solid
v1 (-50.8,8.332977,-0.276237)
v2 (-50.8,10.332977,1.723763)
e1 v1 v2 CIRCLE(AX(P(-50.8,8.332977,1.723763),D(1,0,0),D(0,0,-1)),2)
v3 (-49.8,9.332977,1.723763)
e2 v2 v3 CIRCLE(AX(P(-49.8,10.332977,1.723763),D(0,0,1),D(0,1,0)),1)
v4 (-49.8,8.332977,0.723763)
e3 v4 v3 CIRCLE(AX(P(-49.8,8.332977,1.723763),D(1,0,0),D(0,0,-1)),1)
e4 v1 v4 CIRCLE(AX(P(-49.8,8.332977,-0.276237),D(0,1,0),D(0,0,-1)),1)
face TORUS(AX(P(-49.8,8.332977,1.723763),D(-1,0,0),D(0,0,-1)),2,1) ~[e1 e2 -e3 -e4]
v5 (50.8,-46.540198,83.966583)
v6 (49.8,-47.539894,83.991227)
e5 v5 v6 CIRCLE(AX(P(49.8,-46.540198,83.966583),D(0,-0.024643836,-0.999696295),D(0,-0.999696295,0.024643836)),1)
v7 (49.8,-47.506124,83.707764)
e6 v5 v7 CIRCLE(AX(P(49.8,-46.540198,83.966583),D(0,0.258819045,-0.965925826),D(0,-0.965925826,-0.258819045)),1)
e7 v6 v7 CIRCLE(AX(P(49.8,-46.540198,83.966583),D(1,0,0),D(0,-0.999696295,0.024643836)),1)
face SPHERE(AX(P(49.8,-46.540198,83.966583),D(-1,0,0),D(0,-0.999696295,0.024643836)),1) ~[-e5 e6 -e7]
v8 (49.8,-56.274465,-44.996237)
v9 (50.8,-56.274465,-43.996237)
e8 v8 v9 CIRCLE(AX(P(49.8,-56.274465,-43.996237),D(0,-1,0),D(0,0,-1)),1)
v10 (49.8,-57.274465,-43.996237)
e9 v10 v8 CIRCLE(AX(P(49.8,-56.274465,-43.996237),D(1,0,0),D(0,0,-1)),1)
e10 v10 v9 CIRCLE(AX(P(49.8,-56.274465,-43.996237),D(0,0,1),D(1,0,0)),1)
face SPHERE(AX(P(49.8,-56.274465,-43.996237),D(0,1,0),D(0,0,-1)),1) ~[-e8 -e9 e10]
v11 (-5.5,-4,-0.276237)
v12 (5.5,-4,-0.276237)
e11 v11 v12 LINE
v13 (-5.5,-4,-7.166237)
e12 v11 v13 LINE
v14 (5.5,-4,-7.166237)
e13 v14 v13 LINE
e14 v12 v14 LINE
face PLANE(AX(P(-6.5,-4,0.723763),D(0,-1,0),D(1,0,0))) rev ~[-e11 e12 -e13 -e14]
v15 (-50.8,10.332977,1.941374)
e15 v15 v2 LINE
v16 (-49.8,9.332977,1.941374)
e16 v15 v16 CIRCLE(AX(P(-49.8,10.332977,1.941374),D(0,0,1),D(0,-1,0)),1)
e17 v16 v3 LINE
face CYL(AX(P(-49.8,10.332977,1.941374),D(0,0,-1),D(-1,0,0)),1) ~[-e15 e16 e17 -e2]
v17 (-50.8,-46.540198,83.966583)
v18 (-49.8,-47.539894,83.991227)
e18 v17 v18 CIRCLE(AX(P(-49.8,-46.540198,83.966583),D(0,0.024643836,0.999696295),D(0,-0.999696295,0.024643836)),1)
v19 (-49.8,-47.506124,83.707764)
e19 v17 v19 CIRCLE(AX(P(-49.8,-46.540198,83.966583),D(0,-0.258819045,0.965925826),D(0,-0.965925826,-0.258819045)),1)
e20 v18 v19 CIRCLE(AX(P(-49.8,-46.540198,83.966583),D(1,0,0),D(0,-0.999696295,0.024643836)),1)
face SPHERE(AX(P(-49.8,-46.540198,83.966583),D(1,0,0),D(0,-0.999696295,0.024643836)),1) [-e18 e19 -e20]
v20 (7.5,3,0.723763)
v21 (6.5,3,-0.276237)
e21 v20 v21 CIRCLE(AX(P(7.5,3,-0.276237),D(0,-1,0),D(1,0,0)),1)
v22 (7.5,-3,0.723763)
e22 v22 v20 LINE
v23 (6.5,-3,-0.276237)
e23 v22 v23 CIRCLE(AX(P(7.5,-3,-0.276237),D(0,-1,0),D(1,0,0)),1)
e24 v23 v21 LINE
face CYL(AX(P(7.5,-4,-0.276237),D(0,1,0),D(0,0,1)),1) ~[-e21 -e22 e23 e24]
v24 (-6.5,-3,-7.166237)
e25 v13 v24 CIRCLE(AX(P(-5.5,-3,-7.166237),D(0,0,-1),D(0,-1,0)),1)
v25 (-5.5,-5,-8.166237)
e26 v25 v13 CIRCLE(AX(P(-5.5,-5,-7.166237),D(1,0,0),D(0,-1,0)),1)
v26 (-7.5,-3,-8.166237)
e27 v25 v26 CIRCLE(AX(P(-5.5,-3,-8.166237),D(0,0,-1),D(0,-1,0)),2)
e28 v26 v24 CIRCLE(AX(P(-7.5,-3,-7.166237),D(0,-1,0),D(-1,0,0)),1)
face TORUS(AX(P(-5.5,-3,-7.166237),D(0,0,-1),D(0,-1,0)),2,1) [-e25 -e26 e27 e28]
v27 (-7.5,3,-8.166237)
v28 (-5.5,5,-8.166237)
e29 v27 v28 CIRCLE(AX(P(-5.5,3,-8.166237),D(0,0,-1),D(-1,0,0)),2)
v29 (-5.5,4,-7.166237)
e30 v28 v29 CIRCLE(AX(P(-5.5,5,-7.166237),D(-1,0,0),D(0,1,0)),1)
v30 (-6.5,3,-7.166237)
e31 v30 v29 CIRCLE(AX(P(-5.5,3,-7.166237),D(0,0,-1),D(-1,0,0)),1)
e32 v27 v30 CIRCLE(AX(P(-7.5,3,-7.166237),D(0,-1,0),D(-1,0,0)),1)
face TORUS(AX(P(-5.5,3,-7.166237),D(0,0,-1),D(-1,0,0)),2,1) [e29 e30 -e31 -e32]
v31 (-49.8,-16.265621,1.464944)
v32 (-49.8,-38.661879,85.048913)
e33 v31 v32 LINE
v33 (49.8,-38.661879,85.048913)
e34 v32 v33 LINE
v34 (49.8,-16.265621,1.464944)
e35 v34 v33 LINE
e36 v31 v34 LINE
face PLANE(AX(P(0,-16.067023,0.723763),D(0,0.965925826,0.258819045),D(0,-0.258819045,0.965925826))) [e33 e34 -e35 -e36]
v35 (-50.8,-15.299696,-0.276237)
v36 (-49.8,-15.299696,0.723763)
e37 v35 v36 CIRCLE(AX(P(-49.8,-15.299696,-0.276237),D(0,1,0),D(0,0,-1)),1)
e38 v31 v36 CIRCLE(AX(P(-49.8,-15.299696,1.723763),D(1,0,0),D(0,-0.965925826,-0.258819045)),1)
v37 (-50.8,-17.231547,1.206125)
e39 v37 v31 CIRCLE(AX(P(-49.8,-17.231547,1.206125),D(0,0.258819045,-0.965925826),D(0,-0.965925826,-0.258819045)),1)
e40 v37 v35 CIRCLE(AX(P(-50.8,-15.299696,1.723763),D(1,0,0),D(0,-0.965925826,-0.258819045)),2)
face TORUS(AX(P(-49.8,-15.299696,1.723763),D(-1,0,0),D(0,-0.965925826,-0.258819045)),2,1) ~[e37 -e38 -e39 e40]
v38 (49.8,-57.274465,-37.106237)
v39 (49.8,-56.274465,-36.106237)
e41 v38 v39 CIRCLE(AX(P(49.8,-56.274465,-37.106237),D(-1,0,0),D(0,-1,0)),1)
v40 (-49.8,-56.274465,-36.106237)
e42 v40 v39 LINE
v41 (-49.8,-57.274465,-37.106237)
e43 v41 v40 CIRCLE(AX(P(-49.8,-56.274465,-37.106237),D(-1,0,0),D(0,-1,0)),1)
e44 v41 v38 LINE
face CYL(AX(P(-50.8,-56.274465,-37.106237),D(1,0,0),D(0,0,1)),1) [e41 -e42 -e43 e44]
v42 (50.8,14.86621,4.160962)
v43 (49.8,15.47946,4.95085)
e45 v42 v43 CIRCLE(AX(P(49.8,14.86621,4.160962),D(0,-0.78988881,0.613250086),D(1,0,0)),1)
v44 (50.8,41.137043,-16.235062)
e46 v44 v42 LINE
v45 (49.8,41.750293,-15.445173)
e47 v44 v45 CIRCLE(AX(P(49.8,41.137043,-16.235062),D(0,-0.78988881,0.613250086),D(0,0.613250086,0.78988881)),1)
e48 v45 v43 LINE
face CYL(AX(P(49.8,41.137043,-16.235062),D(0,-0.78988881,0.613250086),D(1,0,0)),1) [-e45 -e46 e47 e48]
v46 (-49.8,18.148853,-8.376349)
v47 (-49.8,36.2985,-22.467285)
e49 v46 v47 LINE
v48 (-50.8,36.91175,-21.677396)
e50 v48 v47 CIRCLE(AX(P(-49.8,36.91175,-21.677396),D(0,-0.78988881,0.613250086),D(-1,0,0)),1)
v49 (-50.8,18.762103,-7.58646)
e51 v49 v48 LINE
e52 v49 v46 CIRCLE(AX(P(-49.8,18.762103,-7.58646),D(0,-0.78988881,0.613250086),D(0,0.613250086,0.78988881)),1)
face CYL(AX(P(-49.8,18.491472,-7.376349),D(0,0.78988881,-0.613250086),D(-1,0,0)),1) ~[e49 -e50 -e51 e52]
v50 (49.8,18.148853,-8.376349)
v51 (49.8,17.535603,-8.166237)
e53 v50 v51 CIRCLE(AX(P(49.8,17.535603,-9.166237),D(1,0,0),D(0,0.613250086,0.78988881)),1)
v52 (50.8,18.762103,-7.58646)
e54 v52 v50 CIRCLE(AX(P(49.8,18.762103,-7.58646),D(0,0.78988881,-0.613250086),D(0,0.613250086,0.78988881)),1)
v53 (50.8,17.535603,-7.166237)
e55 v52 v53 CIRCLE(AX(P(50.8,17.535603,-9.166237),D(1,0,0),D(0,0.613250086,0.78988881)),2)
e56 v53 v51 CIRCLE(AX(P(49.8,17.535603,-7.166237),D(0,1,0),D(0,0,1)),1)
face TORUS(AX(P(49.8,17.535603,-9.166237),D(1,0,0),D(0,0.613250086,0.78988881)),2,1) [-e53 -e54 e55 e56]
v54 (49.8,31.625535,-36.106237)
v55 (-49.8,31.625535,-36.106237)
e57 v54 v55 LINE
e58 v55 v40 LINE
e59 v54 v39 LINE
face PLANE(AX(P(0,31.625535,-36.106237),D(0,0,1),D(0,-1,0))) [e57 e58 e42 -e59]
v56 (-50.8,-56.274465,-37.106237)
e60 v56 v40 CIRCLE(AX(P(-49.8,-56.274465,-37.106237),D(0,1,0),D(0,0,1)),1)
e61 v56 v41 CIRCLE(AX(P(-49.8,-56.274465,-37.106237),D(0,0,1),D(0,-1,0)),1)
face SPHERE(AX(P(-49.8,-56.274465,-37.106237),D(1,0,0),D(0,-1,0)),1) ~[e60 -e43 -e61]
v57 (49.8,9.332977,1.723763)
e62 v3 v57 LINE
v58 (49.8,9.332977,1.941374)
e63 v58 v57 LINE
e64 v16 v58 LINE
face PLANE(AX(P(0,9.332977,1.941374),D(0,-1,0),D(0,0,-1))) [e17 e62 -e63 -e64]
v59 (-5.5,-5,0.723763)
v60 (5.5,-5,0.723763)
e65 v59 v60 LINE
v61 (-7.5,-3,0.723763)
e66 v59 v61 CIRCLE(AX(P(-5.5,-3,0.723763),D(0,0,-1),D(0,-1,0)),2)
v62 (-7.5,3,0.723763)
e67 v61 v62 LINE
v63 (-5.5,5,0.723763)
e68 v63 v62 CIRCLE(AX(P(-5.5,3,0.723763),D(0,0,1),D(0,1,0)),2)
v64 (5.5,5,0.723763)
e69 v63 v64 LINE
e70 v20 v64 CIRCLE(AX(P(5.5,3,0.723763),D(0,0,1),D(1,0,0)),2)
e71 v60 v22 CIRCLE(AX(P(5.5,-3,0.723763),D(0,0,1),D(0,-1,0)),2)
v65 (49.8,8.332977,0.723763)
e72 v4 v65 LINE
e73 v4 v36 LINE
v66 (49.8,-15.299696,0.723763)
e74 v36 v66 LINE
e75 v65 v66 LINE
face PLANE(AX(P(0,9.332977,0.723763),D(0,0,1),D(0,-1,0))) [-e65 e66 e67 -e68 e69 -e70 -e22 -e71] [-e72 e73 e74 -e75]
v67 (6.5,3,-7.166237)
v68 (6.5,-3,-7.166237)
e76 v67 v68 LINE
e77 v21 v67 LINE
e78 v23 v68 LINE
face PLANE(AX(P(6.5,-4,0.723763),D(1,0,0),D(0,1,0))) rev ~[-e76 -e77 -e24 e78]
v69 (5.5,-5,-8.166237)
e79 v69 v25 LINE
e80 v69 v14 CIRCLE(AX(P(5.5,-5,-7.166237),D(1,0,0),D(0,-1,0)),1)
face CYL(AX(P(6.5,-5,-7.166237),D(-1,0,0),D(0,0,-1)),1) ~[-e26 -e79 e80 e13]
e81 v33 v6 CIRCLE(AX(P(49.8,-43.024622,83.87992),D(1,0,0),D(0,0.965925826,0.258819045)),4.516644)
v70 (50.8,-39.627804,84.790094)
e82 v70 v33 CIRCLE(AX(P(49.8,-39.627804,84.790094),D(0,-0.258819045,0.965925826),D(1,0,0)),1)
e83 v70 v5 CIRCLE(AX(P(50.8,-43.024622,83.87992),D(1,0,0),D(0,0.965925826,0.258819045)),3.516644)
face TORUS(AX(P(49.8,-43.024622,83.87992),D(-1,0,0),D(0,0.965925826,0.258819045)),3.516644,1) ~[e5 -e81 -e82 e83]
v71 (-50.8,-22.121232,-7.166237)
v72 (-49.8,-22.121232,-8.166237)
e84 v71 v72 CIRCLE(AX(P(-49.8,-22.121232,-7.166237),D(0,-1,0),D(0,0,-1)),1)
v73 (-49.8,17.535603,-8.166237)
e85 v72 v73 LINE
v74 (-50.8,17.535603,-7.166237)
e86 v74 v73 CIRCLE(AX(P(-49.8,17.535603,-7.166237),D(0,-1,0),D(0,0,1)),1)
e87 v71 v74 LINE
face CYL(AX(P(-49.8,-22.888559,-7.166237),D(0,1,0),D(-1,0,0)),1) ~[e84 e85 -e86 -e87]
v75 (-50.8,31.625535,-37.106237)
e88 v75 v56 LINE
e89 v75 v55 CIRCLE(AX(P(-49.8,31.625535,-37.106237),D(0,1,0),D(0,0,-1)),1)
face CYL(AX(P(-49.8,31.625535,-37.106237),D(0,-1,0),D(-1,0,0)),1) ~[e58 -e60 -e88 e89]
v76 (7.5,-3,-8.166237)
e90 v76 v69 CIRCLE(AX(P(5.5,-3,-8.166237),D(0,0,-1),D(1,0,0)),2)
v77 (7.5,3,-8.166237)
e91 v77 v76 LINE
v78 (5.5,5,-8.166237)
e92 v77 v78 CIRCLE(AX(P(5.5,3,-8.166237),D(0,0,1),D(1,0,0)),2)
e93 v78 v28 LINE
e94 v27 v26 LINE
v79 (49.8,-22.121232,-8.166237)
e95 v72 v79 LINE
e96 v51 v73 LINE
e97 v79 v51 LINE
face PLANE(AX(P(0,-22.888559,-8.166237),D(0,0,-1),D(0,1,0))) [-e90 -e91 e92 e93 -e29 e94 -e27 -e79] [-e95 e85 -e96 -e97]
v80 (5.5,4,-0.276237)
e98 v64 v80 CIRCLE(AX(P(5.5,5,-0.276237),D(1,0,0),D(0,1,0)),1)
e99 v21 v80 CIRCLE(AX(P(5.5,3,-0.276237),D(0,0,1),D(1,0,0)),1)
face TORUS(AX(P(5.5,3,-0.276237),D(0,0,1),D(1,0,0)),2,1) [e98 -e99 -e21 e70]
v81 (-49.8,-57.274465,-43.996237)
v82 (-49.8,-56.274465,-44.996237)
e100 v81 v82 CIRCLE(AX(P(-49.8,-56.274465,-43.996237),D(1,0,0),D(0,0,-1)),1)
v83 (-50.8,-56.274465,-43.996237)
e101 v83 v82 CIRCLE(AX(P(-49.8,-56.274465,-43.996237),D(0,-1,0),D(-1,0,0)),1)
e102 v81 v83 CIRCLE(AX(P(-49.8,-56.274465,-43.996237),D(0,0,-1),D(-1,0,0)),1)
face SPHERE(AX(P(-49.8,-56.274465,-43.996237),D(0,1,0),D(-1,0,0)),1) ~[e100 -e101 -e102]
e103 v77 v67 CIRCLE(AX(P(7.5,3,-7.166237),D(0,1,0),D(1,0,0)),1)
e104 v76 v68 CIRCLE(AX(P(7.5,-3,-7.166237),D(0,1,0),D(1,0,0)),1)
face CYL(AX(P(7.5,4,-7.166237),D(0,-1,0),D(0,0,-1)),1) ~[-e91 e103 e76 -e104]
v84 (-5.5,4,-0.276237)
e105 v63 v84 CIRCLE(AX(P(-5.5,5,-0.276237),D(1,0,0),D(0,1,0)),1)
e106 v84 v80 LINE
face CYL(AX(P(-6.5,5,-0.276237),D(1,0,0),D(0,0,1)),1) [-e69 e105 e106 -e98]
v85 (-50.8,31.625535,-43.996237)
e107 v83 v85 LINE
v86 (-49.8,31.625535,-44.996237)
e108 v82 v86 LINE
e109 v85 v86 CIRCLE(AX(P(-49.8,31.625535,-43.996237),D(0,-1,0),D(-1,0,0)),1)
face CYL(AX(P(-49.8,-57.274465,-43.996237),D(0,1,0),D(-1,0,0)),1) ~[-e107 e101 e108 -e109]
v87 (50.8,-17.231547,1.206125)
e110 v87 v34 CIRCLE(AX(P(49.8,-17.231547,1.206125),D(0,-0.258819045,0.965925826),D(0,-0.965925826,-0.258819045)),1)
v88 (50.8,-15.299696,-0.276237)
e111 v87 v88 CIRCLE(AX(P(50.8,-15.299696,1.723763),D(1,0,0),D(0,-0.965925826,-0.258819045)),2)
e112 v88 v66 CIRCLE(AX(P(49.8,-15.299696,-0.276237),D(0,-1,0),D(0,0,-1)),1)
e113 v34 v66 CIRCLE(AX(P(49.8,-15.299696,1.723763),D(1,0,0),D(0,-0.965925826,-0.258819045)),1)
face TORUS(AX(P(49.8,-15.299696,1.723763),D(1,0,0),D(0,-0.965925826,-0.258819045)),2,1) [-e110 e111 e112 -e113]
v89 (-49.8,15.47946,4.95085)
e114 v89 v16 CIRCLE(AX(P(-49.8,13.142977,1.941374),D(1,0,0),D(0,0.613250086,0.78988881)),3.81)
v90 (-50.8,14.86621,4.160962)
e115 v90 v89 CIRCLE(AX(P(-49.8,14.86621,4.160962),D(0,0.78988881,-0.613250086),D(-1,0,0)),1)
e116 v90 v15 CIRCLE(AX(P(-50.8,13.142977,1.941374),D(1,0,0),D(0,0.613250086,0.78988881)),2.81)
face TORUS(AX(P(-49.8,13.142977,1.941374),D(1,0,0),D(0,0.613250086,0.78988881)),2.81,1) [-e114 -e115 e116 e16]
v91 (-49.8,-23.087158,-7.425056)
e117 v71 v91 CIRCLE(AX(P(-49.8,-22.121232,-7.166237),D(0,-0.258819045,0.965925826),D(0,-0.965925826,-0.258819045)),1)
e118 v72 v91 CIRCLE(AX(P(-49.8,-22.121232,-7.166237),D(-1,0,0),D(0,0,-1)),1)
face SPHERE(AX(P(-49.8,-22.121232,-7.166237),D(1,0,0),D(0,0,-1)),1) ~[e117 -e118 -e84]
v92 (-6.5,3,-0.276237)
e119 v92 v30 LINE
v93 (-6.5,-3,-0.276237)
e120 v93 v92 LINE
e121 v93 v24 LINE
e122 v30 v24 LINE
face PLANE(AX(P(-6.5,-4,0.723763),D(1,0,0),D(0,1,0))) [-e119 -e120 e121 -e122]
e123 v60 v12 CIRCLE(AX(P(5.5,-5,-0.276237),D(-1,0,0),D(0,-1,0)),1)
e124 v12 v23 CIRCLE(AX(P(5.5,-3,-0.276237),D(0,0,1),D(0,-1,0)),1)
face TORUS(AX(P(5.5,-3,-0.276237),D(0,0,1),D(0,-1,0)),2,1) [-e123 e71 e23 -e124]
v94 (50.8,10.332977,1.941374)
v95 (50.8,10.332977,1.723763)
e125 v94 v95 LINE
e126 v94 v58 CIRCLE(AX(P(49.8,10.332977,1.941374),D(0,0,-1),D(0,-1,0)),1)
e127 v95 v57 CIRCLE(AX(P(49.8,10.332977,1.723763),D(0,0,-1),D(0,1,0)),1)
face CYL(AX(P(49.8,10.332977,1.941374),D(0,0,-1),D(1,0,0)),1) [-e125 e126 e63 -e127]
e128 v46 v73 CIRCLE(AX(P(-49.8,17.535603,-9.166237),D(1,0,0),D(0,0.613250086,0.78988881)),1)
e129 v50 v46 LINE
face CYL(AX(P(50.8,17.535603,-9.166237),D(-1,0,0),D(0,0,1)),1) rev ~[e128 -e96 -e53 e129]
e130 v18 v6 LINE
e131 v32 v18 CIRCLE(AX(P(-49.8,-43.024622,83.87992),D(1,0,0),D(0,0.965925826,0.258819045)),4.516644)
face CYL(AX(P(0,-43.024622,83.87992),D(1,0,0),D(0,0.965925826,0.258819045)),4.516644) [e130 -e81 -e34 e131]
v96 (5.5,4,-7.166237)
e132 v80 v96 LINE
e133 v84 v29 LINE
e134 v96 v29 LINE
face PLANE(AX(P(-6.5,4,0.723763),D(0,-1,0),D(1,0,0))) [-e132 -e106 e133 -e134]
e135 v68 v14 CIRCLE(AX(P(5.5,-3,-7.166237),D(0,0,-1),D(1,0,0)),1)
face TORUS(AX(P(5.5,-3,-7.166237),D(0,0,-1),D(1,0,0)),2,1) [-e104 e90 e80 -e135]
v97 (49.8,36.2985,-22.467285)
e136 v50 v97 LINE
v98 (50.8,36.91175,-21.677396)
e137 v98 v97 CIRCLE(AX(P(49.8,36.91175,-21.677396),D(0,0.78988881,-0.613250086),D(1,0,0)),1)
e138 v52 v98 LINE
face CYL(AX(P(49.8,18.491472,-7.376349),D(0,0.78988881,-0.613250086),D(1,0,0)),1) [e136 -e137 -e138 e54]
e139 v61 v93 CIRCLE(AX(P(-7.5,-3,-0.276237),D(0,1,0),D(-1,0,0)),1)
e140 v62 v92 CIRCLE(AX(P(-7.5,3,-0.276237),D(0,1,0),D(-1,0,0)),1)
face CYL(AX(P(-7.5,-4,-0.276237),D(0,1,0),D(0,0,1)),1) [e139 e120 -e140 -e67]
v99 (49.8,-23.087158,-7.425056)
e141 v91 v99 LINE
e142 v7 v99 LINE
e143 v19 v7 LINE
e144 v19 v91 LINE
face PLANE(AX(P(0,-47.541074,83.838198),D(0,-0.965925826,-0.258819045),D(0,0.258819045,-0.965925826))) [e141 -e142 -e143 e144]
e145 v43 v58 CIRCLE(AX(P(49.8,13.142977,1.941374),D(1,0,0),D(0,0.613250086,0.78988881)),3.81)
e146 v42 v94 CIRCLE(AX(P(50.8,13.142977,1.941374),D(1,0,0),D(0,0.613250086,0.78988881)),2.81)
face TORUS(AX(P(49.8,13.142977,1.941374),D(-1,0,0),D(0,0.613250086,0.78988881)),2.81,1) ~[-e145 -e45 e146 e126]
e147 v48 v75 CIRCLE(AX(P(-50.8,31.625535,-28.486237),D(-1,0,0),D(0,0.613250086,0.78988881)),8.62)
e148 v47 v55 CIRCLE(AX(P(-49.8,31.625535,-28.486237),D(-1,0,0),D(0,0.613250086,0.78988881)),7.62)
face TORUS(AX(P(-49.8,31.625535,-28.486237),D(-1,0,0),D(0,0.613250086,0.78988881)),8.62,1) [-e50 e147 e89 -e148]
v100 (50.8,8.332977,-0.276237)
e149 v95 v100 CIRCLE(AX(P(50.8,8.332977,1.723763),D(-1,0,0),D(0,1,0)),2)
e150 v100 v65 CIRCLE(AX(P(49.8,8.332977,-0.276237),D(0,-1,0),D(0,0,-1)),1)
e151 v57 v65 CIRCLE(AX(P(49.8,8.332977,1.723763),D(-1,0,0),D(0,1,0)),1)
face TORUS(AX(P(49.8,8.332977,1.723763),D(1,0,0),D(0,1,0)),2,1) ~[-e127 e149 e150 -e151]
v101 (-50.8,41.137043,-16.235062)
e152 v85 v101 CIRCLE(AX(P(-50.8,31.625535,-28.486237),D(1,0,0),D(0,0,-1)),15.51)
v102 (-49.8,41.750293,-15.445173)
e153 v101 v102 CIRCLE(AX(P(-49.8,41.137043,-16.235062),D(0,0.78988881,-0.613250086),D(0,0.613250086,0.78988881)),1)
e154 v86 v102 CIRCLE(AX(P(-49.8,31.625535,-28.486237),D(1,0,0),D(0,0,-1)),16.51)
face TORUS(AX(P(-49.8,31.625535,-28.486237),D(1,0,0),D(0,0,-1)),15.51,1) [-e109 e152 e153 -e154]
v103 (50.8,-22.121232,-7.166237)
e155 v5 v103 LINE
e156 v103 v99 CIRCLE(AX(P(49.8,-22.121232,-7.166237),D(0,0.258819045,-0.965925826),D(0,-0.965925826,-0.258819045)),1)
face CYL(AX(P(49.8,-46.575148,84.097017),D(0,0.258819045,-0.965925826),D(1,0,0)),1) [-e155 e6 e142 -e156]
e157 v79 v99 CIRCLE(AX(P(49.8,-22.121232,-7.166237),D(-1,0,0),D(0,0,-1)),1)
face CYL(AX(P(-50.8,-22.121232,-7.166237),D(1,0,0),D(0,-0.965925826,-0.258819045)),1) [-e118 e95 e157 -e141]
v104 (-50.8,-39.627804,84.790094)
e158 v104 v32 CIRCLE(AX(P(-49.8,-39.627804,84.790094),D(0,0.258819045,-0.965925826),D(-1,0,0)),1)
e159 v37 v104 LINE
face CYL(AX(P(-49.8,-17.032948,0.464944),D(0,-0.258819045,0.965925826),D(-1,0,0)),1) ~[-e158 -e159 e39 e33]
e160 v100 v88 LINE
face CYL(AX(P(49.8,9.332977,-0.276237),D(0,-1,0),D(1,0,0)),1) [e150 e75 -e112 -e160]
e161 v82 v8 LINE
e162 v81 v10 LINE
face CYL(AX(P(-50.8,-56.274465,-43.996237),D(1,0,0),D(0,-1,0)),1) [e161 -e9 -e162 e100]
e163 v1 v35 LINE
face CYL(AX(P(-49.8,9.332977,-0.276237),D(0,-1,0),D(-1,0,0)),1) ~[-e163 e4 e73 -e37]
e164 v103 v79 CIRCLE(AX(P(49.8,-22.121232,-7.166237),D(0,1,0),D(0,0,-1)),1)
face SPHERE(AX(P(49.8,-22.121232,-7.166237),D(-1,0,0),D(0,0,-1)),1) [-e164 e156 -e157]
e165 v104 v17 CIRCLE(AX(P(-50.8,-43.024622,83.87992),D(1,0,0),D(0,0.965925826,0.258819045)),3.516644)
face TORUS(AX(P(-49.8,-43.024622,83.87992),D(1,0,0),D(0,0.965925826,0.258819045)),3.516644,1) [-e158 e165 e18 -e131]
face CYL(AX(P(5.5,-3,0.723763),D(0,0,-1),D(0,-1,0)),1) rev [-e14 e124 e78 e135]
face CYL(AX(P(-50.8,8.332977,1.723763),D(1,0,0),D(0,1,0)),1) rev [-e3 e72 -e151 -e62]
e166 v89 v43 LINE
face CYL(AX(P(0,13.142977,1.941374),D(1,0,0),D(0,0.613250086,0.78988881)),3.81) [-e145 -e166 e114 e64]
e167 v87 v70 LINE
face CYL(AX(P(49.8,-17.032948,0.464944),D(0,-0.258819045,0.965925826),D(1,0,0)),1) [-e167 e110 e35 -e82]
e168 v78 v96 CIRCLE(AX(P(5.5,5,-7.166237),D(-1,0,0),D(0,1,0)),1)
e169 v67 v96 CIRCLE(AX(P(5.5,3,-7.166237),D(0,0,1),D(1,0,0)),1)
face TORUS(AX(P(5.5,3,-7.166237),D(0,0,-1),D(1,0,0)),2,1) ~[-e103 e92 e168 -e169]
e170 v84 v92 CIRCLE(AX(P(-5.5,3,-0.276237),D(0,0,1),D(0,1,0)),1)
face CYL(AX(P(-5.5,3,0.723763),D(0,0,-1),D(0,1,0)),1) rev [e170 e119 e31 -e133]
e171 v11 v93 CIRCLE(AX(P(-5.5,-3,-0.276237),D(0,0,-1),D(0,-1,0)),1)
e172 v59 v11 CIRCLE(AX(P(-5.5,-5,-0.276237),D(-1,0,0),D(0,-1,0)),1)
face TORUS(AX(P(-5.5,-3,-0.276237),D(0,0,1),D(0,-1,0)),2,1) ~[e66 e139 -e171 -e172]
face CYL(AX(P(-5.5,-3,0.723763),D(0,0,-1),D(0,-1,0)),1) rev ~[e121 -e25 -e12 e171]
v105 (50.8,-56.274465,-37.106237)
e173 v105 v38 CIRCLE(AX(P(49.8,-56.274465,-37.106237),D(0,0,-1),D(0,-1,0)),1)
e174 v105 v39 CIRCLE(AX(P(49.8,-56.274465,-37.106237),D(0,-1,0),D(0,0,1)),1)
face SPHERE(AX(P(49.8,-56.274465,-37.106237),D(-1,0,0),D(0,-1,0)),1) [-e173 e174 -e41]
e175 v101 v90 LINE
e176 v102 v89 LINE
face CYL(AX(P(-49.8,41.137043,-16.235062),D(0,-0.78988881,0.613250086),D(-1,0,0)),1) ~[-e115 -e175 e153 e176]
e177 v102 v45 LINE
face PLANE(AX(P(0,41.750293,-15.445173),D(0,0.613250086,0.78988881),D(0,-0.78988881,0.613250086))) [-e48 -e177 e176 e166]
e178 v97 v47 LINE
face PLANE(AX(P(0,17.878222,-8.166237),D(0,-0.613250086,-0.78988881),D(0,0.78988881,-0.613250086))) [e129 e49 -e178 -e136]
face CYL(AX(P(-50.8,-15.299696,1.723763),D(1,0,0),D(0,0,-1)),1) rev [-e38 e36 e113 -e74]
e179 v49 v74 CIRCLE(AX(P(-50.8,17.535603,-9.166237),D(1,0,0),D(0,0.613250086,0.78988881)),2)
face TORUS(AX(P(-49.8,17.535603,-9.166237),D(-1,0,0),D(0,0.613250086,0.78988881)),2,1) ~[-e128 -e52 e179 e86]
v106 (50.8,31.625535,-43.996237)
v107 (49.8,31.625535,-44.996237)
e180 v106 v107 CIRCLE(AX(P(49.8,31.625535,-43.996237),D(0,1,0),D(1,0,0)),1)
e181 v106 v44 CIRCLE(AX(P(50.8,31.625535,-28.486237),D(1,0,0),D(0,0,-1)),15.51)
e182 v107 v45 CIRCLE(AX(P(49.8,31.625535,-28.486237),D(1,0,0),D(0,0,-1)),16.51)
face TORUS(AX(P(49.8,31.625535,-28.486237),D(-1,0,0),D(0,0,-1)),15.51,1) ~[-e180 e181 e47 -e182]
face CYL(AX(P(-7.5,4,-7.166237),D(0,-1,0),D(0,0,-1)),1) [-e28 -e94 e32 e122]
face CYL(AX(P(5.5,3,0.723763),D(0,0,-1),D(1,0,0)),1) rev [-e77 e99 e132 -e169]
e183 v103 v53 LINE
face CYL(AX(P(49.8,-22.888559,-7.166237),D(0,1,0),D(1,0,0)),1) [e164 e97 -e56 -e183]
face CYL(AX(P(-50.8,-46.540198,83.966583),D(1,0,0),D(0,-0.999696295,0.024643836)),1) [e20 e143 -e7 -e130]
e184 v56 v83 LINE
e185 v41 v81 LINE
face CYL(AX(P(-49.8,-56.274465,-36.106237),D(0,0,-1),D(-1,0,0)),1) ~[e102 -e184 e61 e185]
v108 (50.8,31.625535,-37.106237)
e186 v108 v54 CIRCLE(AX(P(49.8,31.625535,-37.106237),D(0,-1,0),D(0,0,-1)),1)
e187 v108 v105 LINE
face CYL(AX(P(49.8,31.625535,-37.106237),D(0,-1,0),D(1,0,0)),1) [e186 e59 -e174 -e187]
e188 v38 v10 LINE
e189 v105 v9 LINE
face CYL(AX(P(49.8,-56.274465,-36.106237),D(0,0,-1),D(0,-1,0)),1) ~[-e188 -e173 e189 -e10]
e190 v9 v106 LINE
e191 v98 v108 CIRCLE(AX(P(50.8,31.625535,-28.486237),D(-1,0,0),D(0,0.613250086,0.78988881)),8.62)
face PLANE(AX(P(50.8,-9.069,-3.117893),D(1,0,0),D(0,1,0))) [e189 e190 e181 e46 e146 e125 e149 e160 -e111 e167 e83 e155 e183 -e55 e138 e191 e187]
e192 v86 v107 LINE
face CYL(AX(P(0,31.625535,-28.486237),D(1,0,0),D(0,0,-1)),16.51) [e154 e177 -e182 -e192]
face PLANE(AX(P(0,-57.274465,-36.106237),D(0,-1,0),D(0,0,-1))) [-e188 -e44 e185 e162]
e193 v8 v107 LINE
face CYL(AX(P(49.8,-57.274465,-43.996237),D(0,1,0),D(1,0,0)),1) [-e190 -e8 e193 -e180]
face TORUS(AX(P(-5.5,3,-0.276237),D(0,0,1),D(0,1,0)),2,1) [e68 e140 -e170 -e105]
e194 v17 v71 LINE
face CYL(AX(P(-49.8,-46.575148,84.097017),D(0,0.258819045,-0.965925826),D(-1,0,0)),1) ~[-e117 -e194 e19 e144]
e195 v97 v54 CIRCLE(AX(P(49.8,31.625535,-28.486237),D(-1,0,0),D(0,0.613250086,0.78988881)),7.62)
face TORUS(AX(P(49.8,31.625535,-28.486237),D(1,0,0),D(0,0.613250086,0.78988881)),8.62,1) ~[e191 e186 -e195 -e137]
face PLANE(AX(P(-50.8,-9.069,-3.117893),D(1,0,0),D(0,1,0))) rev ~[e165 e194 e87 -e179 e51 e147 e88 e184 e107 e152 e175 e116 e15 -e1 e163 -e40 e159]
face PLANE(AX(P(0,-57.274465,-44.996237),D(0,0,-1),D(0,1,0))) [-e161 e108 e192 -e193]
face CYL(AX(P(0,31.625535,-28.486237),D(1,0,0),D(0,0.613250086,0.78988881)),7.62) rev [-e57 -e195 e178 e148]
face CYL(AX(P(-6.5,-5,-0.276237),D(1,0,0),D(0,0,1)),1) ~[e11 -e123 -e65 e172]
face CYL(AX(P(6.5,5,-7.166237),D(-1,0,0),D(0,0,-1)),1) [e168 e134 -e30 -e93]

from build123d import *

# Parameters (mm, degrees)
F1_DEPTH = 50.8
F2_W     = 13
F2_H     = 8
F3_DEPTH = 25.4
F4_R     = 1


with BuildPart() as f1:
    # F0 (on Right) → F1 (new body, symmetric)
    with BuildSketch(Plane.YZ):
        with BuildLine():
            Line((31.6255345498, -36.1062373339), (-57.2744654502, -36.1062373339))
            Line((-57.2744654502, -36.1062373339), (-57.2744654502, -44.9962373339))
            Line((-57.2744654502, -44.9962373339), (31.6255345498, -44.9962373339))
            ThreePointArc((31.6255345498, -44.9962373339), (47.2442424157, -33.8375049034), (41.7502934691, -15.4451730819))
            Line((41.7502934691, -15.4451730819), (15.4794602749, 4.9508503992))
            ThreePointArc((15.4794602749, 4.9508503992), (11.4675520645, 5.3632229176), (9.3329774473, 1.9413740333))
            Line((9.3329774473, 1.9413740333), (9.3329774473, 0.7237626661))
            Line((9.3329774473, 0.7237626661), (-16.0670225527, 0.7237626661))
            Line((-16.0670225527, 0.7237626661), (-38.6618785789, 85.0489133456))
            ThreePointArc((-38.6618785789, 85.0489133456), (-43.634838868, 88.3551528409), (-47.5410735218, 83.8381976201))
            Line((-47.5410735218, 83.8381976201), (-22.8885594758, -8.1662373339))
            Line((-22.8885594758, -8.1662373339), (17.8782219758, -8.1662373339))
            Line((17.8782219758, -8.1662373339), (36.2985002049, -22.4672846022))
            ThreePointArc((36.2985002049, -22.4672846022), (38.8341689494, -30.9560531352), (31.6255345498, -36.1062373339))
        make_face()
    extrude(amount=F1_DEPTH, both=True)

    # F2 (on face) → F3 (cut)
    with BuildSketch(Plane.XY.offset(0.7237626661)):
        Rectangle(F2_W, F2_H)
    extrude(amount=-F3_DEPTH, mode=Mode.SUBTRACT)

    # F4
    f4_edges = [f1.edges().sort_by_distance(p)[0] for p in [
        (0, 41.750293, -15.445173),
        (-50.8, 28.614877, -5.247161),
        (0, 15.47946, 4.95085),
        (50.8, 28.614877, -5.247161),
        (50.8, -27.364451, 42.886338),
        (50.8, -35.214816, 37.83598),
        (0, -57.274465, -36.106237),
        (-50.8, -57.274465, -40.551237),
        (0, -57.274465, -44.996237),
        (50.8, -57.274465, -40.551237),
        (50.8, 38.834169, -30.956053),
        (-50.8, 47.244242, -33.837505),
        (-50.8, -12.824465, -44.996237),
        (0, 31.625535, -44.996237),
        (50.8, -12.824465, -44.996237),
        (50.8, -43.634839, 88.355153),
        (-50.8, -35.214816, 37.83598),
        (0, -22.888559, -8.166237),
        (0, -47.541074, 83.838198),
        (50.8, 47.244242, -33.837505),
        (50.8, -2.505169, -8.166237),
        (50.8, 27.088361, -15.316761),
        (50.8, -12.824465, -36.106237),
        (50.8, 11.467552, 5.363223),
        (50.8, 9.332977, 1.332568),
        (50.8, -3.367023, 0.723763),
        (0, -16.067023, 0.723763),
        (-50.8, -27.364451, 42.886338),
        (0, -38.661879, 85.048913),
        (0, 36.2985, -22.467285),
        (-50.8, 38.834169, -30.956053),
        (0, 31.625535, -36.106237),
        (0, 9.332977, 0.723763),
        (-50.8, -3.367023, 0.723763),
        (0, -4, 0.723763),
        (6.5, 0, 0.723763),
        (0, 4, 0.723763),
        (-6.5, 0, 0.723763),
        (-50.8, -12.824465, -36.106237),
        (-50.8, -2.505169, -8.166237),
        (-50.8, 27.088361, -15.316761),
        (-50.8, 11.467552, 5.363223),
        (-50.8, 9.332977, 1.332568),
        (-50.8, -43.634839, 88.355153),
        (0, 17.878222, -8.166237),
        (0, 9.332977, 1.941374),
        (6.5, 4, -3.721237),
        (6.5, 0, -8.166237),
        (0, -4, -8.166237),
        (-6.5, 0, -8.166237),
        (0, 4, -8.166237),
        (6.5, -4, -3.721237),
        (-6.5, 4, -3.721237),
        (-6.5, -4, -3.721237),
    ]]
    fillet(f4_edges, radius=F4_R)


solid = f1.part
